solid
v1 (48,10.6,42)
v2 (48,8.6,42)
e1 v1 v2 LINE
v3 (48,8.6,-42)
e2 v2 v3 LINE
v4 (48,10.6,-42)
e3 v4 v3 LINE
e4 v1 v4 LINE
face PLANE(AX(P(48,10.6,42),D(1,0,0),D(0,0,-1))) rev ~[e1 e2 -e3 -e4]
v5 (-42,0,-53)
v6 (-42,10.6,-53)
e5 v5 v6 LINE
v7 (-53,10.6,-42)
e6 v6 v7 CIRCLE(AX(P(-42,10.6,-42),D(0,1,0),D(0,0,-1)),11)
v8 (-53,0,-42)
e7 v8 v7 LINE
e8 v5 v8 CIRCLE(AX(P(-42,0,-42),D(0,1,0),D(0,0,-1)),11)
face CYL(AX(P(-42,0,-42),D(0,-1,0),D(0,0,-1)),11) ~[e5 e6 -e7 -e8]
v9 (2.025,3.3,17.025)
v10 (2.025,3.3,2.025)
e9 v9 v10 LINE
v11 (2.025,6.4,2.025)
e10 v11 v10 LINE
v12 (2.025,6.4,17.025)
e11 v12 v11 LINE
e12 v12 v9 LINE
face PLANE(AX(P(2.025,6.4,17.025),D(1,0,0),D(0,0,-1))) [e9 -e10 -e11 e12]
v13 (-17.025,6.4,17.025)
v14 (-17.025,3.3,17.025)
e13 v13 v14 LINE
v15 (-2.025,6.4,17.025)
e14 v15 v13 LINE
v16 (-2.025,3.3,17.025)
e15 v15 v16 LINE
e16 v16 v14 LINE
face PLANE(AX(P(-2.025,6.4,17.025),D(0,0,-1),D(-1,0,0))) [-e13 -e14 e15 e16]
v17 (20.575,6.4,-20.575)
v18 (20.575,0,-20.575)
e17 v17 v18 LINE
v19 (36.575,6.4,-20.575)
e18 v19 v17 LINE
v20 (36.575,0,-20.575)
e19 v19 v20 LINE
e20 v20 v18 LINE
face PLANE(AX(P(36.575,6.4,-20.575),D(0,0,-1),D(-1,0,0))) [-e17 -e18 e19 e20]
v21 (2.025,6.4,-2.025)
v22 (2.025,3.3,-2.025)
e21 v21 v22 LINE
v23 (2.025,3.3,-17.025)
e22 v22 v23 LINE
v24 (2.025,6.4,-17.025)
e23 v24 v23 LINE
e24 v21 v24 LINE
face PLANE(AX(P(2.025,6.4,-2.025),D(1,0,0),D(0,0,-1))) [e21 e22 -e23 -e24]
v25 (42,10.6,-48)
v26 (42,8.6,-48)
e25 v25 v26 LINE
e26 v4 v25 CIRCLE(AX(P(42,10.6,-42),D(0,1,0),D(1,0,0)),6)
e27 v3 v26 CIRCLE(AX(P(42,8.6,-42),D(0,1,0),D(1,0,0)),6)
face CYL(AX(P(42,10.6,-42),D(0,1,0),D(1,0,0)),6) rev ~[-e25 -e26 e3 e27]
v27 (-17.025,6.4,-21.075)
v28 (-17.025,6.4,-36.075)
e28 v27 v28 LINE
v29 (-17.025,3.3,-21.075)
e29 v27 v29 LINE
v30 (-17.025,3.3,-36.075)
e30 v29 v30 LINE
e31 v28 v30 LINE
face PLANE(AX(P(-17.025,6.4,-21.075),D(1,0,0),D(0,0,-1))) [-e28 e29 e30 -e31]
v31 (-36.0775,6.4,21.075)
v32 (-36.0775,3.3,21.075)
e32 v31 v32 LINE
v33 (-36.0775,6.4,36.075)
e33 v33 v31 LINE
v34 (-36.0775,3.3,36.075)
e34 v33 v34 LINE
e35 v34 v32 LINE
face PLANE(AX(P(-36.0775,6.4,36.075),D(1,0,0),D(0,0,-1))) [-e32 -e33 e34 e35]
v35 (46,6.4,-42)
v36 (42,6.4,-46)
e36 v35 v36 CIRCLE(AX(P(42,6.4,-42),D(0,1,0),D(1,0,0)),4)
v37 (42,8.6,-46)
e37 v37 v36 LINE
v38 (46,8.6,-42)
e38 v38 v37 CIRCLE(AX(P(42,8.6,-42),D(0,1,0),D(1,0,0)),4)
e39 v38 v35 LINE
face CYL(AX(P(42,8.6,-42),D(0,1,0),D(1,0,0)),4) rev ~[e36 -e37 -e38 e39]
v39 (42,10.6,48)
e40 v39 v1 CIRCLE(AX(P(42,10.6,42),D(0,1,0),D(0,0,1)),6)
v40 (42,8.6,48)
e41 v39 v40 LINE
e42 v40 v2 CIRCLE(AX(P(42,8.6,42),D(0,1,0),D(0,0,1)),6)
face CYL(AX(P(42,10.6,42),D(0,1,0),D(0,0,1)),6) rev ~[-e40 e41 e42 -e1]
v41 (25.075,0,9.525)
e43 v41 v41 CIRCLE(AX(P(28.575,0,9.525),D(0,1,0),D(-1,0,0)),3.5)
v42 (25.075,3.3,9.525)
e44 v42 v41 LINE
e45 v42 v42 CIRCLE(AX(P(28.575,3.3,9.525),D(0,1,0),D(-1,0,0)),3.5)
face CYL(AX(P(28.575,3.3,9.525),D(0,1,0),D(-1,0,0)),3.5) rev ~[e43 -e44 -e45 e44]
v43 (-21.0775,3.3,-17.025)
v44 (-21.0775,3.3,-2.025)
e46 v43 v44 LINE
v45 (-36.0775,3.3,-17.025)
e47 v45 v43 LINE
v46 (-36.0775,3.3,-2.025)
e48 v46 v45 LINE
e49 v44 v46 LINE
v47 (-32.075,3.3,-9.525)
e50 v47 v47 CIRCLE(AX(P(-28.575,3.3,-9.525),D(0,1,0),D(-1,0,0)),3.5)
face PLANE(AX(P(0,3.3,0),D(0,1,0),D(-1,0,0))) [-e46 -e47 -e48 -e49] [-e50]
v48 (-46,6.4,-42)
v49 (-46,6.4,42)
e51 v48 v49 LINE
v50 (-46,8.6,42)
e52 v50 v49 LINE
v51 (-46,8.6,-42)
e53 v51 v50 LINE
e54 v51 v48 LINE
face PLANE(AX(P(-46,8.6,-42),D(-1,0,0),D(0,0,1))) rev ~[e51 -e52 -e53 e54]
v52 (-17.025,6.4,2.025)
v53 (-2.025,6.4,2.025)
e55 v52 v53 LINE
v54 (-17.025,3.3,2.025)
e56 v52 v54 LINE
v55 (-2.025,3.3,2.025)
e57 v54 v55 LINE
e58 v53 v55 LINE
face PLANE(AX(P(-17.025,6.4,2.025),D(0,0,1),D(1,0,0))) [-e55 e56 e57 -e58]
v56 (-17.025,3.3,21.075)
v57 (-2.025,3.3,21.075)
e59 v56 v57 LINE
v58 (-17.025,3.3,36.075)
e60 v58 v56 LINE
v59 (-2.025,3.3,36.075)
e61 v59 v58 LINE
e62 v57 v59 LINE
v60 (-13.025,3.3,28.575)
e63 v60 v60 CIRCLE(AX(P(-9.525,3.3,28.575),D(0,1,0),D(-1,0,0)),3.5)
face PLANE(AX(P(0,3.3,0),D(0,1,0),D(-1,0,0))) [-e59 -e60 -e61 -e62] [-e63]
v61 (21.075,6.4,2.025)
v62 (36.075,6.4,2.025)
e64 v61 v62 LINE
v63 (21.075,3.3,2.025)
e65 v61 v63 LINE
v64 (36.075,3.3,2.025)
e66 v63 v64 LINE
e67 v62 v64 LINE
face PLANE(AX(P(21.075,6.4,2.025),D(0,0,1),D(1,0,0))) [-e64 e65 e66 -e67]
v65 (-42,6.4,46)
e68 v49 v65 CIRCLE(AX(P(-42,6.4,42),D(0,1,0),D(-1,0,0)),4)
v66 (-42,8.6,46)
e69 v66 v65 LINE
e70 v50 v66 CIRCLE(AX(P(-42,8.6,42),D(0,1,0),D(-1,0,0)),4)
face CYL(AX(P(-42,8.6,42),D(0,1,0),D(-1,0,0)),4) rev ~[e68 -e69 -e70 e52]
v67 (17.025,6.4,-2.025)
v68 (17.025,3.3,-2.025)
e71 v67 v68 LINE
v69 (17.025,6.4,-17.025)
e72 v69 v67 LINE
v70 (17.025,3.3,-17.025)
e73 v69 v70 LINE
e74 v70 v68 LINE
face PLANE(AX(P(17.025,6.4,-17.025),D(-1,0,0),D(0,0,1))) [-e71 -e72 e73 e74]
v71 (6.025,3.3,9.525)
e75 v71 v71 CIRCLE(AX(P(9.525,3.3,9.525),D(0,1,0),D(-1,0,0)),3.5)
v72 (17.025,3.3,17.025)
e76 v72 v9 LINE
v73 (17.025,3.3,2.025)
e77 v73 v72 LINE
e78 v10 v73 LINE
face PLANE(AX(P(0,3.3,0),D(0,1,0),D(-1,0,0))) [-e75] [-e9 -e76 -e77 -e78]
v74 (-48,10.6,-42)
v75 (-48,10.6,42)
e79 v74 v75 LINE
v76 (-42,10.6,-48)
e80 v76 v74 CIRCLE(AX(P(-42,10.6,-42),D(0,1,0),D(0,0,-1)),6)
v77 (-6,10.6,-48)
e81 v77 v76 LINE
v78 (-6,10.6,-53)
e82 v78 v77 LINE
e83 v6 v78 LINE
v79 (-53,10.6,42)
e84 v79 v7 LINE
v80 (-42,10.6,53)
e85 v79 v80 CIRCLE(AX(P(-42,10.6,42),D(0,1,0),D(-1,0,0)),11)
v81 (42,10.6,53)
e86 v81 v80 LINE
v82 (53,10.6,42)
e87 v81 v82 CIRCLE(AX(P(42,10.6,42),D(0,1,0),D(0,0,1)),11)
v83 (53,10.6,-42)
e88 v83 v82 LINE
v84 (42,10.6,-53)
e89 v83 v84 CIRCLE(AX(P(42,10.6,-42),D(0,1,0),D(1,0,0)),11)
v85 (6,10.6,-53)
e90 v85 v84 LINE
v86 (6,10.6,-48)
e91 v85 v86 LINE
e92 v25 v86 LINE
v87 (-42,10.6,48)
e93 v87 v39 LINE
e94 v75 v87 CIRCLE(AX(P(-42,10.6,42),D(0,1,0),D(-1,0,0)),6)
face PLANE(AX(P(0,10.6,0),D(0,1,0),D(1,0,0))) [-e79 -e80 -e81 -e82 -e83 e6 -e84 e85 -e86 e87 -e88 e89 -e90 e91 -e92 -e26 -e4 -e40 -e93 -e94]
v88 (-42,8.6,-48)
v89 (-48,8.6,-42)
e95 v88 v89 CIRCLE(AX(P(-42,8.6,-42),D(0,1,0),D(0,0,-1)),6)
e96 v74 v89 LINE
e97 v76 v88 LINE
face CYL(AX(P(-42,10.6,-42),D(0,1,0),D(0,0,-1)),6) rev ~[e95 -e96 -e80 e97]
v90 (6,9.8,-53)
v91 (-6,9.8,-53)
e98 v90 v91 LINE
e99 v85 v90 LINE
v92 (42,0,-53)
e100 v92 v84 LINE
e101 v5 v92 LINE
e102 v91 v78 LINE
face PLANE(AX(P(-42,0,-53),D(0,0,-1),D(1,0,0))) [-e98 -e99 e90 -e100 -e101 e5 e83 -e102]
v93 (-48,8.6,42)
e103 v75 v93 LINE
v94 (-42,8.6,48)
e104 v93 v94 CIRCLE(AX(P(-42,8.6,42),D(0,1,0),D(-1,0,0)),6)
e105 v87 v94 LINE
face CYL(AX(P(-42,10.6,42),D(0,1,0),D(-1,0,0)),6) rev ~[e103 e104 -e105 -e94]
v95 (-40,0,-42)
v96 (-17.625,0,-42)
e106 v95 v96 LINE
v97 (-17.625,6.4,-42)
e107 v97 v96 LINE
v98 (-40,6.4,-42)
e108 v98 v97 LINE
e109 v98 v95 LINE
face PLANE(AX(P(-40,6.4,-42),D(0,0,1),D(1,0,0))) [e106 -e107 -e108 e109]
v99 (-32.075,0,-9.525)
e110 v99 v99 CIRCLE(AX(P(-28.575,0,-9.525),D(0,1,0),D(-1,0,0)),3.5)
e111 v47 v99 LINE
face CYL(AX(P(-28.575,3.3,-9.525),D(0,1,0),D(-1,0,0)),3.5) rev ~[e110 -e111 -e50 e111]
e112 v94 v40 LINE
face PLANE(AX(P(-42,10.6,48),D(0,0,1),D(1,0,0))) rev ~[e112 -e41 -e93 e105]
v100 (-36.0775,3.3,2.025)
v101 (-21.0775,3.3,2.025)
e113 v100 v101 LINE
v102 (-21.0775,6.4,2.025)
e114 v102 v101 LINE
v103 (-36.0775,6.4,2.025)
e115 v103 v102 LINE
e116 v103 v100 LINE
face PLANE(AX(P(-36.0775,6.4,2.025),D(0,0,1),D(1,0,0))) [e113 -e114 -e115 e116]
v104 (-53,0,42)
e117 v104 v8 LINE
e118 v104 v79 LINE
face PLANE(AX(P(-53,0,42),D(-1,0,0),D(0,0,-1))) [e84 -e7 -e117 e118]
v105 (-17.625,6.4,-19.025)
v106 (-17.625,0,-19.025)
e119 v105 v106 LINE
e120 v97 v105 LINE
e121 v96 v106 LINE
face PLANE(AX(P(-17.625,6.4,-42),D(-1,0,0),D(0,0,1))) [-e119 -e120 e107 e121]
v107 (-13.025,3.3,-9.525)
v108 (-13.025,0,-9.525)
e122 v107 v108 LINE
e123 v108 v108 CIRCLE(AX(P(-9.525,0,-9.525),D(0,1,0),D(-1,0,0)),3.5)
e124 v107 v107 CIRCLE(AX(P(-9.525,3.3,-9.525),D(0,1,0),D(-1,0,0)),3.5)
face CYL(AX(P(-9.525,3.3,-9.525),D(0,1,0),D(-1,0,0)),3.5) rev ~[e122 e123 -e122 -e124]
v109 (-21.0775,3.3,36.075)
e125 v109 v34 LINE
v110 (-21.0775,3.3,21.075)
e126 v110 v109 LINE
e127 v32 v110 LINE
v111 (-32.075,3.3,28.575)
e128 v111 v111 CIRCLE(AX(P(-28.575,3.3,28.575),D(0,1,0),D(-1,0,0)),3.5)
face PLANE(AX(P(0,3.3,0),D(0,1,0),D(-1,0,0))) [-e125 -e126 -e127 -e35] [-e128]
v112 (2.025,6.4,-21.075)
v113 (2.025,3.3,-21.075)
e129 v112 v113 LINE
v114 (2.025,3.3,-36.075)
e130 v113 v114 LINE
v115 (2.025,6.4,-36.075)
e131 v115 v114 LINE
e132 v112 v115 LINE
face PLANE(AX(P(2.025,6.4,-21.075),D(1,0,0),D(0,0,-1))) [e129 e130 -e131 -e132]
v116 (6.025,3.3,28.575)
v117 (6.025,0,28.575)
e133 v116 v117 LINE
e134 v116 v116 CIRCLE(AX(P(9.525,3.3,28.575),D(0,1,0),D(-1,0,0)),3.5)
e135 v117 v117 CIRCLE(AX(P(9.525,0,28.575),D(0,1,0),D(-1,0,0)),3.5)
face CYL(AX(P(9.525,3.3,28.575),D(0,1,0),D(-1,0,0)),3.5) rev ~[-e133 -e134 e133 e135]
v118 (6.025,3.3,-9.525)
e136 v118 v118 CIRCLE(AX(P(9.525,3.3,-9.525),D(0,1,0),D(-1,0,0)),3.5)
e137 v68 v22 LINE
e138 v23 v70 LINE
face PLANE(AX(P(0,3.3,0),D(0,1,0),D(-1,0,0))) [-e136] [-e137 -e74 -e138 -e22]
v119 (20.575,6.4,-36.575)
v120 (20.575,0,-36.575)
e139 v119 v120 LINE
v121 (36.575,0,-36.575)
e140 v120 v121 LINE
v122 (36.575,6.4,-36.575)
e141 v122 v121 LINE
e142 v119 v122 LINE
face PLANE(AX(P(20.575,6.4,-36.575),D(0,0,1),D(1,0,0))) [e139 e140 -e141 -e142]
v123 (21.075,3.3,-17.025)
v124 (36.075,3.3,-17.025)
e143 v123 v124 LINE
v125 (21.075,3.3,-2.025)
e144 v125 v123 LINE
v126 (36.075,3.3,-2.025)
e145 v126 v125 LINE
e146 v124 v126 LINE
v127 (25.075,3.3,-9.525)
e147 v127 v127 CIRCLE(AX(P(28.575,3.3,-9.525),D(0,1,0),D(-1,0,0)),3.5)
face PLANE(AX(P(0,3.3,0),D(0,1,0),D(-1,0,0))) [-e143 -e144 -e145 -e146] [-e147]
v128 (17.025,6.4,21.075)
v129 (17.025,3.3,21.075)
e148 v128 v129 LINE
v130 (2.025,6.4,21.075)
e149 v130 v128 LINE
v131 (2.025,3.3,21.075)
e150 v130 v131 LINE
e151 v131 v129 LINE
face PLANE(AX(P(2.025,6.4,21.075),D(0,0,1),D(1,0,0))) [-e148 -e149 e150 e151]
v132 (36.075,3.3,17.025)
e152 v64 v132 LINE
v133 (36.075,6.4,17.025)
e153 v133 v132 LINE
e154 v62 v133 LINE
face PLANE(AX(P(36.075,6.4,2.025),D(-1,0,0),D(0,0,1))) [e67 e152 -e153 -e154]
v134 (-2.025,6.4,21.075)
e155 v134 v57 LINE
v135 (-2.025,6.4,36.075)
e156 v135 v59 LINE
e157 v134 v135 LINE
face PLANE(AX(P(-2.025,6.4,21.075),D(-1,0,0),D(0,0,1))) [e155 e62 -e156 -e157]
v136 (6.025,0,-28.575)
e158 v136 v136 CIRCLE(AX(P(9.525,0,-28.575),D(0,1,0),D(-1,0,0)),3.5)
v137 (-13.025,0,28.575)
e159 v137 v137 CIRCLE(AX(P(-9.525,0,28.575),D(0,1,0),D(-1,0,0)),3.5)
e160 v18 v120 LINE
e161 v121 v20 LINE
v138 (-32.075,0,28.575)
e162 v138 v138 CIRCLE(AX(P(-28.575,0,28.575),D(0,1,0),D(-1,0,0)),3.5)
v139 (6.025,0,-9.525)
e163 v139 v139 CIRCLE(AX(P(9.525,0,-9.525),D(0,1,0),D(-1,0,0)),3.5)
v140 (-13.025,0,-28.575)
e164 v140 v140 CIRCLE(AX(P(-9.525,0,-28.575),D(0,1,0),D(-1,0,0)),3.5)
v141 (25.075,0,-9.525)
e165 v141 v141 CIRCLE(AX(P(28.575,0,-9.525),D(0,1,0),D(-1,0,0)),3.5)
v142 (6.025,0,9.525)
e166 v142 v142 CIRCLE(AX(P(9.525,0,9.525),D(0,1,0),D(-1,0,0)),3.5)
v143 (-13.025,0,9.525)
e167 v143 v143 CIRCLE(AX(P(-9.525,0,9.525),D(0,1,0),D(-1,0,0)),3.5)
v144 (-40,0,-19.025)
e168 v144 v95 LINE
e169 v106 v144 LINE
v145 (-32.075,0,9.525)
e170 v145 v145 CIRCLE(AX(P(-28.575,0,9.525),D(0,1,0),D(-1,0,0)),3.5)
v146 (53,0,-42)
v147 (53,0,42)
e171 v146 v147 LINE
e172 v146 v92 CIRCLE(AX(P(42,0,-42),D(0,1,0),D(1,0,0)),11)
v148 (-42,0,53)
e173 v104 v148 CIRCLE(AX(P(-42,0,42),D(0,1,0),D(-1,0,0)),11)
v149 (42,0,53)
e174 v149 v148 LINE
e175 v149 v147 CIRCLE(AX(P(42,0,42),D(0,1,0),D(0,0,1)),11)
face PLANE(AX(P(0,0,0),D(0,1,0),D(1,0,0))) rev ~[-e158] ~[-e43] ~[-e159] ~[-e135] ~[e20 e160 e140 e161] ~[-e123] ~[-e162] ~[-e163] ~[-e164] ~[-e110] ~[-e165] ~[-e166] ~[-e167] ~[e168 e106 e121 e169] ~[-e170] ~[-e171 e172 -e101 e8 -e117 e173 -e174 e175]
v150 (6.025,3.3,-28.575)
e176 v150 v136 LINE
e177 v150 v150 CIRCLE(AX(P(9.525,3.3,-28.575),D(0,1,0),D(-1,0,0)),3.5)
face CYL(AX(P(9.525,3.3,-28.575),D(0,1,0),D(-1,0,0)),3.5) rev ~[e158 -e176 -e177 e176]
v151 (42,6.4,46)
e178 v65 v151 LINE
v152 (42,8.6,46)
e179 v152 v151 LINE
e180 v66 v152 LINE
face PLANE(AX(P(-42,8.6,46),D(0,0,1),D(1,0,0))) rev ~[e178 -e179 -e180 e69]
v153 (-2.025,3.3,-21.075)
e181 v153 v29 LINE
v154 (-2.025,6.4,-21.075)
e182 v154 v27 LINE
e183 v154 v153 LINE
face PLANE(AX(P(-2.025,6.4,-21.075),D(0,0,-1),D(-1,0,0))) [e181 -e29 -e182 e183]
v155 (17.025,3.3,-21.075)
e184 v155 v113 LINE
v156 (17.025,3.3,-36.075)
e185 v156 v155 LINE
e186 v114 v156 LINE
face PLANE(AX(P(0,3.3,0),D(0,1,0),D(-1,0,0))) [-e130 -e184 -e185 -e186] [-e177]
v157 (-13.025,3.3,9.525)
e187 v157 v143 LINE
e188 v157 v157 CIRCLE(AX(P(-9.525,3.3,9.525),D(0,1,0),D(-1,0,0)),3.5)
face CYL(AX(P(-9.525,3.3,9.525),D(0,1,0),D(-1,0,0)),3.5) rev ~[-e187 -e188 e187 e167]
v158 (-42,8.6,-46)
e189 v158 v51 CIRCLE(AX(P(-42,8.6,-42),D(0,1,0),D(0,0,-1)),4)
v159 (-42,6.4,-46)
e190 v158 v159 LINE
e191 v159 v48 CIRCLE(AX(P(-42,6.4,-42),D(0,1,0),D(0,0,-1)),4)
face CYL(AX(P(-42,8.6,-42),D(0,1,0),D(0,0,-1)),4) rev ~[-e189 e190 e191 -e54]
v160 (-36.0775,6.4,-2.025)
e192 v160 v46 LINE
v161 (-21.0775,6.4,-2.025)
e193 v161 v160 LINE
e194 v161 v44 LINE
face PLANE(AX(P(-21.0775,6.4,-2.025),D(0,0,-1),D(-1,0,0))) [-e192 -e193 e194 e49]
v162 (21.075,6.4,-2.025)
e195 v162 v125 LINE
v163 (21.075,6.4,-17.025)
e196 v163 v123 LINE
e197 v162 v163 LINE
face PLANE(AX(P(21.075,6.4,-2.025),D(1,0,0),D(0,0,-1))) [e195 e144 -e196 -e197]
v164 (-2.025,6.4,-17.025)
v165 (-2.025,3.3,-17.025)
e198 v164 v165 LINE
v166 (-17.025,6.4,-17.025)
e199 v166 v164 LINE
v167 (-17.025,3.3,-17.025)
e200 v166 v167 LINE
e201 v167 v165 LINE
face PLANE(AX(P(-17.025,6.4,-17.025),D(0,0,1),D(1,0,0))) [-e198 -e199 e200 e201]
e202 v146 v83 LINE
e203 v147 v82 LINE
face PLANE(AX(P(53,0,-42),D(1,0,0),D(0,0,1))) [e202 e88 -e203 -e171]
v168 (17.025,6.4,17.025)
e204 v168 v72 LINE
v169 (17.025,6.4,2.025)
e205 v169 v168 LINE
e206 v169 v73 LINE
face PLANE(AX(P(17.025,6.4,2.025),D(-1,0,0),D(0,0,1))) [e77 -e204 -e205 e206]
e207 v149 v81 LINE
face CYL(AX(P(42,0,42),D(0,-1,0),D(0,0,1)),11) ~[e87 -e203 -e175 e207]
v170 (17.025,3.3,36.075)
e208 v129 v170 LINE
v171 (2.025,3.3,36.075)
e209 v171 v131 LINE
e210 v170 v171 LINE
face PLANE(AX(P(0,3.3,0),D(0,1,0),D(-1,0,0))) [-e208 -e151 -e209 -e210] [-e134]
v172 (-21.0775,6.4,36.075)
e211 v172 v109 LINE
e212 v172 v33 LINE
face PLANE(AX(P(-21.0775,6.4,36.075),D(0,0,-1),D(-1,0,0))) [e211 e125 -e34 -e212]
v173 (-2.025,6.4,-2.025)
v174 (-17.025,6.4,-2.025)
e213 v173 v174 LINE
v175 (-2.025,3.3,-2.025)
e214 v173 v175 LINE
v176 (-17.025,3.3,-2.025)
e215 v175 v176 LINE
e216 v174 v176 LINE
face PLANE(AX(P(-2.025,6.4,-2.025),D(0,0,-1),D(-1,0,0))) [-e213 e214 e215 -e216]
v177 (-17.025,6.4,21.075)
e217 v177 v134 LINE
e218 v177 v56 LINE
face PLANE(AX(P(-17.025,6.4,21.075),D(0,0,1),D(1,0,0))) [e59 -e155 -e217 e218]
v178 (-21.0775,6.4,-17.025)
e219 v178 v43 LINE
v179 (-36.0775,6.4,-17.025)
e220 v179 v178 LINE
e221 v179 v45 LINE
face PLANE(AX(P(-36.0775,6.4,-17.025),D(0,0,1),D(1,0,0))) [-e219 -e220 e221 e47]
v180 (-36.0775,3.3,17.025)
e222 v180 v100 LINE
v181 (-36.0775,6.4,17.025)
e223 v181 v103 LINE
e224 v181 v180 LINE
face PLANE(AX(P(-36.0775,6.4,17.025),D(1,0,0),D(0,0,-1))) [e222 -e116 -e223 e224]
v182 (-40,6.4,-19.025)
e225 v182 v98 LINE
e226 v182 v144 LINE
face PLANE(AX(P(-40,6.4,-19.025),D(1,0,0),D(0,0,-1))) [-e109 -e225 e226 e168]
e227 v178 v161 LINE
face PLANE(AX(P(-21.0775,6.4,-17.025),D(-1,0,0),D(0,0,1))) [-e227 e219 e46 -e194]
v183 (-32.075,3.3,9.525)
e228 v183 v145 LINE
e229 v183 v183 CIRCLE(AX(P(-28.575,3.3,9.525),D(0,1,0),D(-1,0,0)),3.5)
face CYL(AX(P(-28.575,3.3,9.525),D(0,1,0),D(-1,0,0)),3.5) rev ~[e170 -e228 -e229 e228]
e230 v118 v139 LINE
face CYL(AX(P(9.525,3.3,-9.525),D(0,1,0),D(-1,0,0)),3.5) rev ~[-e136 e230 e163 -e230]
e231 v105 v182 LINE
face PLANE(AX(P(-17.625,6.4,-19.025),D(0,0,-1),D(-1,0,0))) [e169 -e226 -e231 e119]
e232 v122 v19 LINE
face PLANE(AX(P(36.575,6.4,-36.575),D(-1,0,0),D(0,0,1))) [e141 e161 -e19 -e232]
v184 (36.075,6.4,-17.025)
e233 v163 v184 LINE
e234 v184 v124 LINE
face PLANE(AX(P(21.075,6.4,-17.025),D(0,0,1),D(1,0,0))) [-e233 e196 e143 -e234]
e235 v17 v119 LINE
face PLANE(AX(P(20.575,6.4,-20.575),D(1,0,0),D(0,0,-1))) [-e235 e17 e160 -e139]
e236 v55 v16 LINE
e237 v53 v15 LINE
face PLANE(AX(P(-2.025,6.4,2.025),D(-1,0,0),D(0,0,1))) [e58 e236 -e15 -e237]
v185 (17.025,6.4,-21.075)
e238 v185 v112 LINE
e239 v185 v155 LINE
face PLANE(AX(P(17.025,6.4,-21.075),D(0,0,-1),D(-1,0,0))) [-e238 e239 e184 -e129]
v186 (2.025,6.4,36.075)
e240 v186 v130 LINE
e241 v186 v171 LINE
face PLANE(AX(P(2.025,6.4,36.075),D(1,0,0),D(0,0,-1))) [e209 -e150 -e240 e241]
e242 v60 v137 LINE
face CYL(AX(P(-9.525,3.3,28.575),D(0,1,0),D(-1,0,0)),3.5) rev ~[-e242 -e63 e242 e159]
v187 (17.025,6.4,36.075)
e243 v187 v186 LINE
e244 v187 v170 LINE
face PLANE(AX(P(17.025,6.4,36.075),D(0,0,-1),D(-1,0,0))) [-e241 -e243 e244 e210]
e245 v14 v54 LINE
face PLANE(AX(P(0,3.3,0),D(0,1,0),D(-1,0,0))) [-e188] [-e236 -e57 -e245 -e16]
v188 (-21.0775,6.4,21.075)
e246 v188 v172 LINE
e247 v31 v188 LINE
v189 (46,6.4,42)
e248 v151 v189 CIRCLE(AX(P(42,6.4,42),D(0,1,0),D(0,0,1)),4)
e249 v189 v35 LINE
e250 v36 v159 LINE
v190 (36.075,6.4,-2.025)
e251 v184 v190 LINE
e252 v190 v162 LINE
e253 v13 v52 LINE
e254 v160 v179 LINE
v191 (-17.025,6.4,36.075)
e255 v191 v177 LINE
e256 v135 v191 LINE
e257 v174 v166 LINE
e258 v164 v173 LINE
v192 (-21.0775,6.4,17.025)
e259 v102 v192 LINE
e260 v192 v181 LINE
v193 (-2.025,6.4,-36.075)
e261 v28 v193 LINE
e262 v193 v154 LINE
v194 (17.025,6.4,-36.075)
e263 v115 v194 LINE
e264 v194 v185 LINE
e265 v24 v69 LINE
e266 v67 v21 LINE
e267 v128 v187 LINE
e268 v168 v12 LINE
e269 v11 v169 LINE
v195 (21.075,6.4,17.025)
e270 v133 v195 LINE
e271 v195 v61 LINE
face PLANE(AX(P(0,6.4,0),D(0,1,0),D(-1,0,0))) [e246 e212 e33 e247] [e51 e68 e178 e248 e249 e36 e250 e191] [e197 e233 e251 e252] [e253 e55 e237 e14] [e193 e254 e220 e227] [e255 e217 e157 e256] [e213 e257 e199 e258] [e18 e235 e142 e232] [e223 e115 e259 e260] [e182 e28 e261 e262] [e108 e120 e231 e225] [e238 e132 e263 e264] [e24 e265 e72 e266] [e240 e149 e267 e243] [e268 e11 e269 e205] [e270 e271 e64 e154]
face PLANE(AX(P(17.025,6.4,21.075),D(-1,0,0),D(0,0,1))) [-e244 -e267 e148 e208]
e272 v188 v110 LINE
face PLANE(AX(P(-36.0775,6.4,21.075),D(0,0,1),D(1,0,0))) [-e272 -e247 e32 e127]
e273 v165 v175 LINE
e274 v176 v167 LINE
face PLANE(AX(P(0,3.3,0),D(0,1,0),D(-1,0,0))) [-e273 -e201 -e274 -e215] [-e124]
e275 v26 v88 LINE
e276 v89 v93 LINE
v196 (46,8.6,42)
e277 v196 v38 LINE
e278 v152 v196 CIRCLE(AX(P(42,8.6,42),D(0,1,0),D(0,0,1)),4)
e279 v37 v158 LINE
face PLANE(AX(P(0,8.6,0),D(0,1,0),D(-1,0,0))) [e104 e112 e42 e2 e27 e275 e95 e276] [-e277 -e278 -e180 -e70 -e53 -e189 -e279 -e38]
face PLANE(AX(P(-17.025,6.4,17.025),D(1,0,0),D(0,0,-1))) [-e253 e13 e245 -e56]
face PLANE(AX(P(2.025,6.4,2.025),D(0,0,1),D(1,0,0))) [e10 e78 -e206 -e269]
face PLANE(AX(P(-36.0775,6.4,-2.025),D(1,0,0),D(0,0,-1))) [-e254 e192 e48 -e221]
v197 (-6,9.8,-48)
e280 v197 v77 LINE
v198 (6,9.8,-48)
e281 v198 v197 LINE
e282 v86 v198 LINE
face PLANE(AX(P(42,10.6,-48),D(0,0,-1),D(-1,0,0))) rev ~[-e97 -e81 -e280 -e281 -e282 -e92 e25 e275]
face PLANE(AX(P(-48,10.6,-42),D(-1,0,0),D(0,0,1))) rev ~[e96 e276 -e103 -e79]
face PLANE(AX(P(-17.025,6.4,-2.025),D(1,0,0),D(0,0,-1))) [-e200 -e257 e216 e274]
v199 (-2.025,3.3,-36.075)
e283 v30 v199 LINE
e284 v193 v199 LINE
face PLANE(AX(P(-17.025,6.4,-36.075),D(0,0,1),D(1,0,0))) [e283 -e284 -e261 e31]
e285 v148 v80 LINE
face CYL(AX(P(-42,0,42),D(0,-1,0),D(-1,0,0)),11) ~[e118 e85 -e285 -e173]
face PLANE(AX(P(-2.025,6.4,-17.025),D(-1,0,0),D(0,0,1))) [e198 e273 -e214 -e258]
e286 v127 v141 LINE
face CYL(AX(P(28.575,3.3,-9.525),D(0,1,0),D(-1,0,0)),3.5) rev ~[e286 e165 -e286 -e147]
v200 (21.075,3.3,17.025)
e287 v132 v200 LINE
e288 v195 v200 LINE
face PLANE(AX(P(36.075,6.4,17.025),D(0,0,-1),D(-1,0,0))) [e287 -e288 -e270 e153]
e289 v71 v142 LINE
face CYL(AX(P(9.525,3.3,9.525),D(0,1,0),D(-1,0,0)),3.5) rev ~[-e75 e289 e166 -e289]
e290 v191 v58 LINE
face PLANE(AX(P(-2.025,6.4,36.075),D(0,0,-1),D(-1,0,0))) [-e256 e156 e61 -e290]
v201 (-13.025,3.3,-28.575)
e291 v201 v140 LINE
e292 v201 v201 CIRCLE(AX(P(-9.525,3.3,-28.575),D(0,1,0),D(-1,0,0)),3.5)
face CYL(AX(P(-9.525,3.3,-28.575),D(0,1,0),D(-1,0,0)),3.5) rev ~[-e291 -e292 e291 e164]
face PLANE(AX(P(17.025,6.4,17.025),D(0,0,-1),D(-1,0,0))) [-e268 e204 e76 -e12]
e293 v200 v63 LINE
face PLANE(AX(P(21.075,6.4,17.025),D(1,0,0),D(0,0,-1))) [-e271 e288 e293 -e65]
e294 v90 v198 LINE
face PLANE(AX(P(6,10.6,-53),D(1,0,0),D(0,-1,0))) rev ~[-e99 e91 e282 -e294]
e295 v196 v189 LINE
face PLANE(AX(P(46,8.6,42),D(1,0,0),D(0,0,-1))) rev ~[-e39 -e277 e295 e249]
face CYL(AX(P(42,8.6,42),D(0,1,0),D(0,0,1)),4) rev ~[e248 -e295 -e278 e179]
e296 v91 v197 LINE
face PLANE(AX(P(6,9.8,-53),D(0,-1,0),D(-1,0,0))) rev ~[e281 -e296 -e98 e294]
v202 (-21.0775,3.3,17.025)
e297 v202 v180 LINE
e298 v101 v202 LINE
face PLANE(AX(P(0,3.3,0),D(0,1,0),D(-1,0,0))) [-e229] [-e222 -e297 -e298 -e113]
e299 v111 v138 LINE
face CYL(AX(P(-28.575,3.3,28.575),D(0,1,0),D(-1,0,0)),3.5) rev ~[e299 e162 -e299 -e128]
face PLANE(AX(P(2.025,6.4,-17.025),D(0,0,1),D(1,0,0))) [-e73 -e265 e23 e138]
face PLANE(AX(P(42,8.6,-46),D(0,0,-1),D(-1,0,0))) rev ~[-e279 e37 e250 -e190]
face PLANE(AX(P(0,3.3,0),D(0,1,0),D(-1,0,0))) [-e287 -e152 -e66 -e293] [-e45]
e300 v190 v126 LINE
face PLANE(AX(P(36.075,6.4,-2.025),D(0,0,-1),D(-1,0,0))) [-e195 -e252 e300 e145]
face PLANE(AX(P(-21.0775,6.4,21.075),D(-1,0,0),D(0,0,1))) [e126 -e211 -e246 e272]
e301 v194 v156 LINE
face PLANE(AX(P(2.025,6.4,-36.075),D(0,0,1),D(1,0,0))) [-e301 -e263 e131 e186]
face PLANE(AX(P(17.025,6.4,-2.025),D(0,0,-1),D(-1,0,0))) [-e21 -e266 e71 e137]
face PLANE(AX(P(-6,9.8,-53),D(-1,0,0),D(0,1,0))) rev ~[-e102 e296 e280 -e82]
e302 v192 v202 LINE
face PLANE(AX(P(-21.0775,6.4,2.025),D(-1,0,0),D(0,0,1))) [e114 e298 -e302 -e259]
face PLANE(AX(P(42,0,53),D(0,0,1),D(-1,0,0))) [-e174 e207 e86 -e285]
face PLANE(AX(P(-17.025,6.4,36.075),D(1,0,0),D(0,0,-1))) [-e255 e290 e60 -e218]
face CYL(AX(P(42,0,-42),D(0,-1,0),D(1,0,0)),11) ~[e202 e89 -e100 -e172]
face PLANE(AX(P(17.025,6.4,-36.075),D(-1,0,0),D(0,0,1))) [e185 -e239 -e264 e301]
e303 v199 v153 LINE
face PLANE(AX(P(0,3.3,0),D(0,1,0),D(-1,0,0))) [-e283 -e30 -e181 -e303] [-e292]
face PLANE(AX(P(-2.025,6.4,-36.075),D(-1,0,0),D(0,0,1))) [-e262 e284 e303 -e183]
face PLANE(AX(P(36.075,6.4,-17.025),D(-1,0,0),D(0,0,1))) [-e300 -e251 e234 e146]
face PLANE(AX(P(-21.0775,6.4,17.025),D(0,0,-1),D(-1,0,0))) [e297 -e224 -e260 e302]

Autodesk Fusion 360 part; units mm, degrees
sketch "Sketch1" plane through (0, 0, 0) normal (0, 1, 0) x (1, 0, 0)
  line L0 (0, 0) -> (0, 32) construction
  line L1 (0, 0) -> (-33, 0) construction
  line L2 (-42, 53) -> (42, 53)
  line L3 (53, 42) -> (53, -42)
  line L4 (42, -53) -> (-42, -53)
  line L5 (-53, -42) -> (-53, 42)
  arc A0 (-42, 53) -> (-53, 42) centre (-42, 42) ccw
  arc A1 (-53, -42) -> (-42, -53) centre (-42, -42) ccw
  arc A2 (42, -53) -> (53, -42) centre (42, -42) ccw
  arc A3 (53, 42) -> (42, 53) centre (42, 42) ccw
  point P0 (-53, 53)
  point P1 (53, 53)
  dimension "d1" = 106
  dimension "d2" = 11
  dimension "d49" = 106
extrude "Extrude1" add sketch "Sketch1" along normal blind 10.6
sketch "Sketch2" plane through (0, 10.6, 0) normal (0, 1, 0) x (-1, 0, 0)
  arc A0 (-42, 53) -> (-53, 42) centre (-42, 42) ccw
  line L0 (-53, 42) -> (-53, -42)
  arc A1 (-53, -42) -> (-42, -53) centre (-42, -42) ccw
  line L1 (-42, -53) -> (42, -53)
  arc A2 (42, -53) -> (53, -42) centre (42, -42) ccw
  line L2 (53, -42) -> (53, 42)
  arc A3 (53, 42) -> (42, 53) centre (42, 42) ccw
  line L3 (42, 53) -> (-42, 53)
  line L4 (48, -42) -> (48, 42)
  arc A4 (48, 42) -> (42, 48) centre (42, 42) ccw
  line L5 (42, 48) -> (-42, 48)
  arc A5 (-42, 48) -> (-48, 42) centre (-42, 42) ccw
  line L6 (-48, 42) -> (-48, -42)
  arc A6 (-48, -42) -> (-42, -48) centre (-42, -42) ccw
  line L7 (-42, -48) -> (42, -48)
  arc A7 (42, -48) -> (48, -42) centre (42, -42) ccw
  dimension "d5" = -5
extrude "Extrude2" cut sketch "Sketch2" against normal blind 2 contours L4 A4 L5 A5 L6 A6 L7 A7
sketch "Sketch3" plane through (0, 8.6, 0) normal (0, 1, 0) x (-1, 0, 0)
  arc A0 (42, -48) -> (48, -42) centre (42, -42) ccw
  line L0 (48, -42) -> (48, 42)
  arc A1 (48, 42) -> (42, 48) centre (42, 42) ccw
  line L1 (42, 48) -> (-42, 48)
  arc A2 (-42, 48) -> (-48, 42) centre (-42, 42) ccw
  line L2 (-48, 42) -> (-48, -42)
  arc A3 (-48, -42) -> (-42, -48) centre (-42, -42) ccw
  line L3 (-42, -48) -> (42, -48)
  line L4 (46, -42) -> (46, 42)
  arc A4 (46, 42) -> (42, 46) centre (42, 42) ccw
  line L5 (42, 46) -> (-42, 46)
  arc A5 (-42, 46) -> (-46, 42) centre (-42, 42) ccw
  line L6 (-46, 42) -> (-46, -42)
  arc A6 (-46, -42) -> (-42, -46) centre (-42, -42) ccw
  line L7 (-42, -46) -> (42, -46)
  arc A7 (42, -46) -> (46, -42) centre (42, -42) ccw
  dimension "d8" = -2
extrude "Extrude3" cut sketch "Sketch3" against normal blind 2.2 contours L4 A4 L5 A5 L6 A6 L7 A7
sketch "Sketch5" plane through (0, 6.4, 0) normal (0, 1, 0) x (-1, 0, 0)
  arc A0 (42, -46) -> (46, -42) centre (42, -42) ccw
  line L0 (46, -42) -> (46, 42)
  arc A1 (46, 42) -> (42, 46) centre (42, 42) ccw
  line L1 (42, 46) -> (-42, 46)
  arc A2 (-42, 46) -> (-46, 42) centre (-42, 42) ccw
  line L2 (-46, 42) -> (-46, -42)
  arc A3 (-46, -42) -> (-42, -46) centre (-42, -42) ccw
  line L3 (-42, -46) -> (42, -46)
  line L4 (0, 0) -> (0, -26) construction
  line L5 (0, 0) -> (25, 0) construction
  line L6 (-2.025, -36.075) -> (-17.025, -36.075)
  line L7 (-17.025, -36.075) -> (-17.025, -21.075)
  line L8 (-17.025, -21.075) -> (-2.025, -21.075)
  line L9 (-2.025, -21.075) -> (-2.025, -36.075)
  line L10 (17.025, -36.075) -> (2.025, -36.075)
  line L11 (2.025, -36.075) -> (2.025, -21.075)
  line L12 (2.025, -21.075) -> (17.025, -21.075)
  line L13 (17.025, -21.075) -> (17.025, -36.075)
  line L14 (-21.075, -17.025) -> (-36.075, -17.025)
  line L15 (-36.075, -17.025) -> (-36.075, -2.025)
  line L16 (-36.075, -2.025) -> (-21.075, -2.025)
  line L17 (-21.075, -2.025) -> (-21.075, -17.025)
  line L18 (-2.025, -17.025) -> (-17.025, -17.025)
  line L19 (-17.025, -17.025) -> (-17.025, -2.025)
  line L20 (-17.025, -2.025) -> (-2.025, -2.025)
  line L21 (-2.025, -2.025) -> (-2.025, -17.025)
  line L22 (17.025, -17.025) -> (2.025, -17.025)
  line L23 (2.025, -17.025) -> (2.025, -2.025)
  line L24 (2.025, -2.025) -> (17.025, -2.025)
  line L25 (17.025, -2.025) -> (17.025, -17.025)
  line L26 (36.0775, -17.025) -> (21.0775, -17.025)
  line L27 (21.0775, -17.025) -> (21.0775, -2.025)
  line L28 (21.0775, -2.025) -> (36.0775, -2.025)
  line L29 (36.0775, -2.025) -> (36.0775, -17.025)
  line L30 (-21.075, 2.025) -> (-36.075, 2.025)
  line L31 (-36.075, 2.025) -> (-36.075, 17.025)
  line L32 (-36.075, 17.025) -> (-21.075, 17.025)
  line L33 (-21.075, 17.025) -> (-21.075, 2.025)
  line L34 (-2.025, 2.025) -> (-17.025, 2.025)
  line L35 (-17.025, 2.025) -> (-17.025, 17.025)
  line L36 (-17.025, 17.025) -> (-2.025, 17.025)
  line L37 (-2.025, 17.025) -> (-2.025, 2.025)
  line L38 (17.025, 2.025) -> (2.025, 2.025)
  line L39 (2.025, 2.025) -> (2.025, 17.025)
  line L40 (2.025, 17.025) -> (17.025, 17.025)
  line L41 (17.025, 17.025) -> (17.025, 2.025)
  line L42 (36.0775, 2.025) -> (21.0775, 2.025)
  line L43 (21.0775, 2.025) -> (21.0775, 17.025)
  line L44 (21.0775, 17.025) -> (36.0775, 17.025)
  line L45 (36.0775, 17.025) -> (36.0775, 2.025)
  line L46 (36.0775, 21.075) -> (21.0775, 21.075)
  line L47 (21.0775, 21.075) -> (21.0775, 36.075)
  line L48 (21.0775, 36.075) -> (36.0775, 36.075)
  line L49 (36.0775, 36.075) -> (36.0775, 21.075)
  line L50 (-2.025, 21.075) -> (-17.025, 21.075)
  line L51 (-17.025, 21.075) -> (-17.025, 36.075)
  line L52 (-17.025, 36.075) -> (-2.025, 36.075)
  line L53 (-2.025, 36.075) -> (-2.025, 21.075)
  line L54 (17.025, 21.075) -> (2.025, 21.075)
  line L55 (2.025, 21.075) -> (2.025, 36.075)
  line L56 (2.025, 36.075) -> (17.025, 36.075)
  line L57 (17.025, 36.075) -> (17.025, 21.075)
  line L58 (9.525, -36.075) -> (9.525, -21.075) construction
  line L59 (17.025, -28.575) -> (2.025, -28.575) construction
  line L60 (28.5775, -17.025) -> (28.5775, -2.025) construction
  line L61 (36.0775, -9.525) -> (21.0775, -9.525) construction
  line L62 (-2.025, 9.525) -> (-17.025, 9.525) construction
  line L63 (-9.525, 2.025) -> (-9.525, 17.025) construction
  line L64 (36.0775, 28.575) -> (21.0775, 28.575) construction
  dimension "d16" = 9.525
  dimension "d17" = 28.575
  dimension "d18" = 9.525
  dimension "d19" = 28.575
  dimension "d20" = 28.5775
  dimension "d21" = 9.525
  dimension "d23" = 15
  dimension "d24" = 9.525
extrude "Extrude5" cut sketch "Sketch5" against normal blind 3.1 contours L6 L7 L8 L9 | L10 L11 L12 L13 | L14 L15 L16 L17 | L18 L19 L20 L21 | L22 L23 L24 L25 | L26 L27 L28 L29 | L30 L31 L32 L33 | L34 L35 L36 L37 | L38 L39 L40 L41 | L42 L43 L44 L45 | L46 L47 L48 L49 | L50 L51 L52 L53 | L54 L55 L56 L57
sketch "Sketch6" plane through (0, 3.3, 0) normal (0, 1, 0) x (-1, 0, 0)
  line L0 (17.025, -21.075) -> (2.025, -21.075)
  line L1 (2.025, -21.075) -> (2.025, -36.075)
  line L2 (2.025, -36.075) -> (17.025, -36.075)
  line L3 (17.025, -36.075) -> (17.025, -21.075)
  line L4 (9.525, -36.075) -> (9.525, -21.075) construction
  line L5 (17.025, -28.575) -> (2.025, -28.575) construction
  circle A0 centre (9.525, -28.575) radius 3.5
  circle A1 centre (-9.525, -28.575) radius 3.5
  circle A2 centre (28.575, -9.525) radius 3.5
  circle A3 centre (9.525, -9.525) radius 3.5
  circle A4 centre (-9.525, -9.525) radius 3.5
  circle A5 centre (-28.575, -9.525) radius 3.5
  circle A6 centre (-28.575, 9.525) radius 3.5
  circle A7 centre (-9.525, 9.525) radius 3.5
  circle A8 centre (9.525, 9.525) radius 3.5
  circle A9 centre (28.575, 9.525) radius 3.5
  circle A10 centre (9.525, 28.575) radius 3.5
  circle A11 centre (-9.525, 28.575) radius 3.5
  circle A12 centre (28.575, 28.575) radius 3.5
  line L6 (46, -9.525) -> (-46, -9.525) construction
  line L7 (46, 9.525) -> (-46, 9.525) construction
  line L8 (28.575, -46) -> (28.575, 46) construction
  line L9 (-9.525, -46) -> (-9.525, 46) construction
  line L10 (-28.575, -46) -> (-28.575, 46) construction
  line L11 (46, 28.575) -> (-46, 28.575) construction
  line L12 (42, -46) -> (-42, -46)
  line L13 (-42, 46) -> (42, 46)
  line L14 (-46, -42) -> (-46, 42)
  line L15 (46, 42) -> (46, -42)
  dimension "d27" = 7
  dimension "d28" = 28.575
  dimension "d29" = 9.525
  dimension "d30" = 9.525
  dimension "d31" = 9.525
  dimension "d32" = 28.575
  dimension "d33" = 28.575
extrude "Extrude6" cut sketch "Sketch6" against normal up to surface (3.3 mm away) contours A0 | A1 | A2 | A3 | A4 | A5 | A6 | A7 | A8 | A9 | A10 | A11 | A12
sketch "Sketch7" plane through (0, 6.4, 0) normal (0, 1, 0) x (-1, 0, 0)
  arc A0 (42, -46) -> (46, -42) centre (42, -42) ccw
  line L0 (46, -42) -> (46, 42)
  arc A1 (46, 42) -> (42, 46) centre (42, 42) ccw
  line L1 (42, 46) -> (-42, 46)
  arc A2 (-42, 46) -> (-46, 42) centre (-42, 42) ccw
  line L2 (-46, 42) -> (-46, -42)
  arc A3 (-46, -42) -> (-42, -46) centre (-42, -42) ccw
  line L3 (-42, -46) -> (42, -46)
  line L4 (21.0775, 21.075) -> (21.0775, 36.075)
  line L5 (21.0775, 36.075) -> (36.0775, 36.075)
  line L6 (36.0775, 36.075) -> (36.0775, 21.075)
  line L7 (36.0775, 21.075) -> (21.0775, 21.075)
  line L8 (2.025, 2.025) -> (2.025, 17.025)
  line L9 (2.025, 17.025) -> (17.025, 17.025)
  line L10 (17.025, 17.025) -> (17.025, 2.025)
  line L11 (17.025, 2.025) -> (2.025, 2.025)
  line L12 (-17.025, -17.025) -> (-17.025, -2.025)
  line L13 (-17.025, -2.025) -> (-2.025, -2.025)
  line L14 (-2.025, -2.025) -> (-2.025, -17.025)
  line L15 (-2.025, -17.025) -> (-17.025, -17.025)
  line L16 (2.025, -36.075) -> (2.025, -21.075)
  line L17 (2.025, -21.075) -> (17.025, -21.075)
  line L18 (17.025, -21.075) -> (17.025, -36.075)
  line L19 (17.025, -36.075) -> (2.025, -36.075)
  line L20 (2.025, -17.025) -> (2.025, -2.025)
  line L21 (2.025, -2.025) -> (17.025, -2.025)
  line L22 (17.025, -2.025) -> (17.025, -17.025)
  line L23 (17.025, -17.025) -> (2.025, -17.025)
  line L24 (-17.025, 2.025) -> (-17.025, 17.025)
  line L25 (-17.025, 17.025) -> (-2.025, 17.025)
  line L26 (-2.025, 17.025) -> (-2.025, 2.025)
  line L27 (-2.025, 2.025) -> (-17.025, 2.025)
  line L28 (-17.025, 21.075) -> (-17.025, 36.075)
  line L29 (-17.025, 36.075) -> (-2.025, 36.075)
  line L30 (-2.025, 36.075) -> (-2.025, 21.075)
  line L31 (-2.025, 21.075) -> (-17.025, 21.075)
  line L32 (21.0775, 2.025) -> (21.0775, 17.025)
  line L33 (21.0775, 17.025) -> (36.0775, 17.025)
  line L34 (36.0775, 17.025) -> (36.0775, 2.025)
  line L35 (36.0775, 2.025) -> (21.0775, 2.025)
  line L36 (-36.075, -17.025) -> (-36.075, -2.025)
  line L37 (-36.075, -2.025) -> (-21.075, -2.025)
  line L38 (-21.075, -2.025) -> (-21.075, -17.025)
  line L39 (-21.075, -17.025) -> (-36.075, -17.025)
  line L40 (-17.025, -36.075) -> (-17.025, -21.075)
  line L41 (-17.025, -21.075) -> (-2.025, -21.075)
  line L42 (-2.025, -21.075) -> (-2.025, -36.075)
  line L43 (-2.025, -36.075) -> (-17.025, -36.075)
  line L44 (21.0775, -17.025) -> (21.0775, -2.025)
  line L45 (21.0775, -2.025) -> (36.0775, -2.025)
  line L46 (36.0775, -2.025) -> (36.0775, -17.025)
  line L47 (36.0775, -17.025) -> (21.0775, -17.025)
  line L48 (-36.075, 2.025) -> (-36.075, 17.025)
  line L49 (-36.075, 17.025) -> (-21.075, 17.025)
  line L50 (-21.075, 17.025) -> (-21.075, 2.025)
  line L51 (-21.075, 2.025) -> (-36.075, 2.025)
  line L52 (2.025, 21.075) -> (2.025, 36.075)
  line L53 (2.025, 36.075) -> (17.025, 36.075)
  line L54 (17.025, 36.075) -> (17.025, 21.075)
  line L55 (17.025, 21.075) -> (2.025, 21.075)
  line L56 (-20.575, -36.575) -> (-36.575, -36.575)
  line L57 (-36.575, -36.575) -> (-36.575, -20.575)
  line L58 (-36.575, -20.575) -> (-20.575, -20.575)
  line L59 (-20.575, -20.575) -> (-20.575, -36.575)
  line L60 (40, -42) -> (17.625, -42)
  line L61 (17.625, -42) -> (17.625, -19.025)
  line L62 (17.625, -19.025) -> (40, -19.025)
  line L63 (40, -19.025) -> (40, -42)
  line L64 (-28.575, -36.575) -> (-28.575, -20.575) construction
  line L65 (-20.575, -28.575) -> (-36.575, -28.575) construction
  dimension "d36" = 16
  dimension "d37" = 4
  dimension "d40" = 28.575
  dimension "d43" = 6
  dimension "d44" = 28.575
  dimension "d50" = 0.6
  dimension "d54" = 2
extrude "Extrude7" cut sketch "Sketch7" against normal up to surface (6.4 mm away) contours L56 L57 L58 L59 | L60 L61 L62 L63
sketch "Sketch8" plane through (0, 0, -53) normal (0, 0, -1) x (-1, 0, 0)
  line L0 (-42, 0) -> (42, 0)
  line L1 (42, 0) -> (42, 10.6)
  line L2 (42, 10.6) -> (-42, 10.6)
  line L3 (-42, 10.6) -> (-42, 0)
  line L4 (0, 0) -> (0, 10.6) construction
  line L5 (6, 10.6) -> (-6, 10.6)
  line L6 (-6, 10.6) -> (-6, 9.8)
  line L7 (-6, 9.8) -> (6, 9.8)
  line L8 (6, 9.8) -> (6, 10.6)
  dimension "d45" = 0.8
  dimension "d46" = 12
extrude "Extrude8" cut sketch "Sketch8" against normal up to surface (5 mm away) contours L2 L5 L6 L7 L8
